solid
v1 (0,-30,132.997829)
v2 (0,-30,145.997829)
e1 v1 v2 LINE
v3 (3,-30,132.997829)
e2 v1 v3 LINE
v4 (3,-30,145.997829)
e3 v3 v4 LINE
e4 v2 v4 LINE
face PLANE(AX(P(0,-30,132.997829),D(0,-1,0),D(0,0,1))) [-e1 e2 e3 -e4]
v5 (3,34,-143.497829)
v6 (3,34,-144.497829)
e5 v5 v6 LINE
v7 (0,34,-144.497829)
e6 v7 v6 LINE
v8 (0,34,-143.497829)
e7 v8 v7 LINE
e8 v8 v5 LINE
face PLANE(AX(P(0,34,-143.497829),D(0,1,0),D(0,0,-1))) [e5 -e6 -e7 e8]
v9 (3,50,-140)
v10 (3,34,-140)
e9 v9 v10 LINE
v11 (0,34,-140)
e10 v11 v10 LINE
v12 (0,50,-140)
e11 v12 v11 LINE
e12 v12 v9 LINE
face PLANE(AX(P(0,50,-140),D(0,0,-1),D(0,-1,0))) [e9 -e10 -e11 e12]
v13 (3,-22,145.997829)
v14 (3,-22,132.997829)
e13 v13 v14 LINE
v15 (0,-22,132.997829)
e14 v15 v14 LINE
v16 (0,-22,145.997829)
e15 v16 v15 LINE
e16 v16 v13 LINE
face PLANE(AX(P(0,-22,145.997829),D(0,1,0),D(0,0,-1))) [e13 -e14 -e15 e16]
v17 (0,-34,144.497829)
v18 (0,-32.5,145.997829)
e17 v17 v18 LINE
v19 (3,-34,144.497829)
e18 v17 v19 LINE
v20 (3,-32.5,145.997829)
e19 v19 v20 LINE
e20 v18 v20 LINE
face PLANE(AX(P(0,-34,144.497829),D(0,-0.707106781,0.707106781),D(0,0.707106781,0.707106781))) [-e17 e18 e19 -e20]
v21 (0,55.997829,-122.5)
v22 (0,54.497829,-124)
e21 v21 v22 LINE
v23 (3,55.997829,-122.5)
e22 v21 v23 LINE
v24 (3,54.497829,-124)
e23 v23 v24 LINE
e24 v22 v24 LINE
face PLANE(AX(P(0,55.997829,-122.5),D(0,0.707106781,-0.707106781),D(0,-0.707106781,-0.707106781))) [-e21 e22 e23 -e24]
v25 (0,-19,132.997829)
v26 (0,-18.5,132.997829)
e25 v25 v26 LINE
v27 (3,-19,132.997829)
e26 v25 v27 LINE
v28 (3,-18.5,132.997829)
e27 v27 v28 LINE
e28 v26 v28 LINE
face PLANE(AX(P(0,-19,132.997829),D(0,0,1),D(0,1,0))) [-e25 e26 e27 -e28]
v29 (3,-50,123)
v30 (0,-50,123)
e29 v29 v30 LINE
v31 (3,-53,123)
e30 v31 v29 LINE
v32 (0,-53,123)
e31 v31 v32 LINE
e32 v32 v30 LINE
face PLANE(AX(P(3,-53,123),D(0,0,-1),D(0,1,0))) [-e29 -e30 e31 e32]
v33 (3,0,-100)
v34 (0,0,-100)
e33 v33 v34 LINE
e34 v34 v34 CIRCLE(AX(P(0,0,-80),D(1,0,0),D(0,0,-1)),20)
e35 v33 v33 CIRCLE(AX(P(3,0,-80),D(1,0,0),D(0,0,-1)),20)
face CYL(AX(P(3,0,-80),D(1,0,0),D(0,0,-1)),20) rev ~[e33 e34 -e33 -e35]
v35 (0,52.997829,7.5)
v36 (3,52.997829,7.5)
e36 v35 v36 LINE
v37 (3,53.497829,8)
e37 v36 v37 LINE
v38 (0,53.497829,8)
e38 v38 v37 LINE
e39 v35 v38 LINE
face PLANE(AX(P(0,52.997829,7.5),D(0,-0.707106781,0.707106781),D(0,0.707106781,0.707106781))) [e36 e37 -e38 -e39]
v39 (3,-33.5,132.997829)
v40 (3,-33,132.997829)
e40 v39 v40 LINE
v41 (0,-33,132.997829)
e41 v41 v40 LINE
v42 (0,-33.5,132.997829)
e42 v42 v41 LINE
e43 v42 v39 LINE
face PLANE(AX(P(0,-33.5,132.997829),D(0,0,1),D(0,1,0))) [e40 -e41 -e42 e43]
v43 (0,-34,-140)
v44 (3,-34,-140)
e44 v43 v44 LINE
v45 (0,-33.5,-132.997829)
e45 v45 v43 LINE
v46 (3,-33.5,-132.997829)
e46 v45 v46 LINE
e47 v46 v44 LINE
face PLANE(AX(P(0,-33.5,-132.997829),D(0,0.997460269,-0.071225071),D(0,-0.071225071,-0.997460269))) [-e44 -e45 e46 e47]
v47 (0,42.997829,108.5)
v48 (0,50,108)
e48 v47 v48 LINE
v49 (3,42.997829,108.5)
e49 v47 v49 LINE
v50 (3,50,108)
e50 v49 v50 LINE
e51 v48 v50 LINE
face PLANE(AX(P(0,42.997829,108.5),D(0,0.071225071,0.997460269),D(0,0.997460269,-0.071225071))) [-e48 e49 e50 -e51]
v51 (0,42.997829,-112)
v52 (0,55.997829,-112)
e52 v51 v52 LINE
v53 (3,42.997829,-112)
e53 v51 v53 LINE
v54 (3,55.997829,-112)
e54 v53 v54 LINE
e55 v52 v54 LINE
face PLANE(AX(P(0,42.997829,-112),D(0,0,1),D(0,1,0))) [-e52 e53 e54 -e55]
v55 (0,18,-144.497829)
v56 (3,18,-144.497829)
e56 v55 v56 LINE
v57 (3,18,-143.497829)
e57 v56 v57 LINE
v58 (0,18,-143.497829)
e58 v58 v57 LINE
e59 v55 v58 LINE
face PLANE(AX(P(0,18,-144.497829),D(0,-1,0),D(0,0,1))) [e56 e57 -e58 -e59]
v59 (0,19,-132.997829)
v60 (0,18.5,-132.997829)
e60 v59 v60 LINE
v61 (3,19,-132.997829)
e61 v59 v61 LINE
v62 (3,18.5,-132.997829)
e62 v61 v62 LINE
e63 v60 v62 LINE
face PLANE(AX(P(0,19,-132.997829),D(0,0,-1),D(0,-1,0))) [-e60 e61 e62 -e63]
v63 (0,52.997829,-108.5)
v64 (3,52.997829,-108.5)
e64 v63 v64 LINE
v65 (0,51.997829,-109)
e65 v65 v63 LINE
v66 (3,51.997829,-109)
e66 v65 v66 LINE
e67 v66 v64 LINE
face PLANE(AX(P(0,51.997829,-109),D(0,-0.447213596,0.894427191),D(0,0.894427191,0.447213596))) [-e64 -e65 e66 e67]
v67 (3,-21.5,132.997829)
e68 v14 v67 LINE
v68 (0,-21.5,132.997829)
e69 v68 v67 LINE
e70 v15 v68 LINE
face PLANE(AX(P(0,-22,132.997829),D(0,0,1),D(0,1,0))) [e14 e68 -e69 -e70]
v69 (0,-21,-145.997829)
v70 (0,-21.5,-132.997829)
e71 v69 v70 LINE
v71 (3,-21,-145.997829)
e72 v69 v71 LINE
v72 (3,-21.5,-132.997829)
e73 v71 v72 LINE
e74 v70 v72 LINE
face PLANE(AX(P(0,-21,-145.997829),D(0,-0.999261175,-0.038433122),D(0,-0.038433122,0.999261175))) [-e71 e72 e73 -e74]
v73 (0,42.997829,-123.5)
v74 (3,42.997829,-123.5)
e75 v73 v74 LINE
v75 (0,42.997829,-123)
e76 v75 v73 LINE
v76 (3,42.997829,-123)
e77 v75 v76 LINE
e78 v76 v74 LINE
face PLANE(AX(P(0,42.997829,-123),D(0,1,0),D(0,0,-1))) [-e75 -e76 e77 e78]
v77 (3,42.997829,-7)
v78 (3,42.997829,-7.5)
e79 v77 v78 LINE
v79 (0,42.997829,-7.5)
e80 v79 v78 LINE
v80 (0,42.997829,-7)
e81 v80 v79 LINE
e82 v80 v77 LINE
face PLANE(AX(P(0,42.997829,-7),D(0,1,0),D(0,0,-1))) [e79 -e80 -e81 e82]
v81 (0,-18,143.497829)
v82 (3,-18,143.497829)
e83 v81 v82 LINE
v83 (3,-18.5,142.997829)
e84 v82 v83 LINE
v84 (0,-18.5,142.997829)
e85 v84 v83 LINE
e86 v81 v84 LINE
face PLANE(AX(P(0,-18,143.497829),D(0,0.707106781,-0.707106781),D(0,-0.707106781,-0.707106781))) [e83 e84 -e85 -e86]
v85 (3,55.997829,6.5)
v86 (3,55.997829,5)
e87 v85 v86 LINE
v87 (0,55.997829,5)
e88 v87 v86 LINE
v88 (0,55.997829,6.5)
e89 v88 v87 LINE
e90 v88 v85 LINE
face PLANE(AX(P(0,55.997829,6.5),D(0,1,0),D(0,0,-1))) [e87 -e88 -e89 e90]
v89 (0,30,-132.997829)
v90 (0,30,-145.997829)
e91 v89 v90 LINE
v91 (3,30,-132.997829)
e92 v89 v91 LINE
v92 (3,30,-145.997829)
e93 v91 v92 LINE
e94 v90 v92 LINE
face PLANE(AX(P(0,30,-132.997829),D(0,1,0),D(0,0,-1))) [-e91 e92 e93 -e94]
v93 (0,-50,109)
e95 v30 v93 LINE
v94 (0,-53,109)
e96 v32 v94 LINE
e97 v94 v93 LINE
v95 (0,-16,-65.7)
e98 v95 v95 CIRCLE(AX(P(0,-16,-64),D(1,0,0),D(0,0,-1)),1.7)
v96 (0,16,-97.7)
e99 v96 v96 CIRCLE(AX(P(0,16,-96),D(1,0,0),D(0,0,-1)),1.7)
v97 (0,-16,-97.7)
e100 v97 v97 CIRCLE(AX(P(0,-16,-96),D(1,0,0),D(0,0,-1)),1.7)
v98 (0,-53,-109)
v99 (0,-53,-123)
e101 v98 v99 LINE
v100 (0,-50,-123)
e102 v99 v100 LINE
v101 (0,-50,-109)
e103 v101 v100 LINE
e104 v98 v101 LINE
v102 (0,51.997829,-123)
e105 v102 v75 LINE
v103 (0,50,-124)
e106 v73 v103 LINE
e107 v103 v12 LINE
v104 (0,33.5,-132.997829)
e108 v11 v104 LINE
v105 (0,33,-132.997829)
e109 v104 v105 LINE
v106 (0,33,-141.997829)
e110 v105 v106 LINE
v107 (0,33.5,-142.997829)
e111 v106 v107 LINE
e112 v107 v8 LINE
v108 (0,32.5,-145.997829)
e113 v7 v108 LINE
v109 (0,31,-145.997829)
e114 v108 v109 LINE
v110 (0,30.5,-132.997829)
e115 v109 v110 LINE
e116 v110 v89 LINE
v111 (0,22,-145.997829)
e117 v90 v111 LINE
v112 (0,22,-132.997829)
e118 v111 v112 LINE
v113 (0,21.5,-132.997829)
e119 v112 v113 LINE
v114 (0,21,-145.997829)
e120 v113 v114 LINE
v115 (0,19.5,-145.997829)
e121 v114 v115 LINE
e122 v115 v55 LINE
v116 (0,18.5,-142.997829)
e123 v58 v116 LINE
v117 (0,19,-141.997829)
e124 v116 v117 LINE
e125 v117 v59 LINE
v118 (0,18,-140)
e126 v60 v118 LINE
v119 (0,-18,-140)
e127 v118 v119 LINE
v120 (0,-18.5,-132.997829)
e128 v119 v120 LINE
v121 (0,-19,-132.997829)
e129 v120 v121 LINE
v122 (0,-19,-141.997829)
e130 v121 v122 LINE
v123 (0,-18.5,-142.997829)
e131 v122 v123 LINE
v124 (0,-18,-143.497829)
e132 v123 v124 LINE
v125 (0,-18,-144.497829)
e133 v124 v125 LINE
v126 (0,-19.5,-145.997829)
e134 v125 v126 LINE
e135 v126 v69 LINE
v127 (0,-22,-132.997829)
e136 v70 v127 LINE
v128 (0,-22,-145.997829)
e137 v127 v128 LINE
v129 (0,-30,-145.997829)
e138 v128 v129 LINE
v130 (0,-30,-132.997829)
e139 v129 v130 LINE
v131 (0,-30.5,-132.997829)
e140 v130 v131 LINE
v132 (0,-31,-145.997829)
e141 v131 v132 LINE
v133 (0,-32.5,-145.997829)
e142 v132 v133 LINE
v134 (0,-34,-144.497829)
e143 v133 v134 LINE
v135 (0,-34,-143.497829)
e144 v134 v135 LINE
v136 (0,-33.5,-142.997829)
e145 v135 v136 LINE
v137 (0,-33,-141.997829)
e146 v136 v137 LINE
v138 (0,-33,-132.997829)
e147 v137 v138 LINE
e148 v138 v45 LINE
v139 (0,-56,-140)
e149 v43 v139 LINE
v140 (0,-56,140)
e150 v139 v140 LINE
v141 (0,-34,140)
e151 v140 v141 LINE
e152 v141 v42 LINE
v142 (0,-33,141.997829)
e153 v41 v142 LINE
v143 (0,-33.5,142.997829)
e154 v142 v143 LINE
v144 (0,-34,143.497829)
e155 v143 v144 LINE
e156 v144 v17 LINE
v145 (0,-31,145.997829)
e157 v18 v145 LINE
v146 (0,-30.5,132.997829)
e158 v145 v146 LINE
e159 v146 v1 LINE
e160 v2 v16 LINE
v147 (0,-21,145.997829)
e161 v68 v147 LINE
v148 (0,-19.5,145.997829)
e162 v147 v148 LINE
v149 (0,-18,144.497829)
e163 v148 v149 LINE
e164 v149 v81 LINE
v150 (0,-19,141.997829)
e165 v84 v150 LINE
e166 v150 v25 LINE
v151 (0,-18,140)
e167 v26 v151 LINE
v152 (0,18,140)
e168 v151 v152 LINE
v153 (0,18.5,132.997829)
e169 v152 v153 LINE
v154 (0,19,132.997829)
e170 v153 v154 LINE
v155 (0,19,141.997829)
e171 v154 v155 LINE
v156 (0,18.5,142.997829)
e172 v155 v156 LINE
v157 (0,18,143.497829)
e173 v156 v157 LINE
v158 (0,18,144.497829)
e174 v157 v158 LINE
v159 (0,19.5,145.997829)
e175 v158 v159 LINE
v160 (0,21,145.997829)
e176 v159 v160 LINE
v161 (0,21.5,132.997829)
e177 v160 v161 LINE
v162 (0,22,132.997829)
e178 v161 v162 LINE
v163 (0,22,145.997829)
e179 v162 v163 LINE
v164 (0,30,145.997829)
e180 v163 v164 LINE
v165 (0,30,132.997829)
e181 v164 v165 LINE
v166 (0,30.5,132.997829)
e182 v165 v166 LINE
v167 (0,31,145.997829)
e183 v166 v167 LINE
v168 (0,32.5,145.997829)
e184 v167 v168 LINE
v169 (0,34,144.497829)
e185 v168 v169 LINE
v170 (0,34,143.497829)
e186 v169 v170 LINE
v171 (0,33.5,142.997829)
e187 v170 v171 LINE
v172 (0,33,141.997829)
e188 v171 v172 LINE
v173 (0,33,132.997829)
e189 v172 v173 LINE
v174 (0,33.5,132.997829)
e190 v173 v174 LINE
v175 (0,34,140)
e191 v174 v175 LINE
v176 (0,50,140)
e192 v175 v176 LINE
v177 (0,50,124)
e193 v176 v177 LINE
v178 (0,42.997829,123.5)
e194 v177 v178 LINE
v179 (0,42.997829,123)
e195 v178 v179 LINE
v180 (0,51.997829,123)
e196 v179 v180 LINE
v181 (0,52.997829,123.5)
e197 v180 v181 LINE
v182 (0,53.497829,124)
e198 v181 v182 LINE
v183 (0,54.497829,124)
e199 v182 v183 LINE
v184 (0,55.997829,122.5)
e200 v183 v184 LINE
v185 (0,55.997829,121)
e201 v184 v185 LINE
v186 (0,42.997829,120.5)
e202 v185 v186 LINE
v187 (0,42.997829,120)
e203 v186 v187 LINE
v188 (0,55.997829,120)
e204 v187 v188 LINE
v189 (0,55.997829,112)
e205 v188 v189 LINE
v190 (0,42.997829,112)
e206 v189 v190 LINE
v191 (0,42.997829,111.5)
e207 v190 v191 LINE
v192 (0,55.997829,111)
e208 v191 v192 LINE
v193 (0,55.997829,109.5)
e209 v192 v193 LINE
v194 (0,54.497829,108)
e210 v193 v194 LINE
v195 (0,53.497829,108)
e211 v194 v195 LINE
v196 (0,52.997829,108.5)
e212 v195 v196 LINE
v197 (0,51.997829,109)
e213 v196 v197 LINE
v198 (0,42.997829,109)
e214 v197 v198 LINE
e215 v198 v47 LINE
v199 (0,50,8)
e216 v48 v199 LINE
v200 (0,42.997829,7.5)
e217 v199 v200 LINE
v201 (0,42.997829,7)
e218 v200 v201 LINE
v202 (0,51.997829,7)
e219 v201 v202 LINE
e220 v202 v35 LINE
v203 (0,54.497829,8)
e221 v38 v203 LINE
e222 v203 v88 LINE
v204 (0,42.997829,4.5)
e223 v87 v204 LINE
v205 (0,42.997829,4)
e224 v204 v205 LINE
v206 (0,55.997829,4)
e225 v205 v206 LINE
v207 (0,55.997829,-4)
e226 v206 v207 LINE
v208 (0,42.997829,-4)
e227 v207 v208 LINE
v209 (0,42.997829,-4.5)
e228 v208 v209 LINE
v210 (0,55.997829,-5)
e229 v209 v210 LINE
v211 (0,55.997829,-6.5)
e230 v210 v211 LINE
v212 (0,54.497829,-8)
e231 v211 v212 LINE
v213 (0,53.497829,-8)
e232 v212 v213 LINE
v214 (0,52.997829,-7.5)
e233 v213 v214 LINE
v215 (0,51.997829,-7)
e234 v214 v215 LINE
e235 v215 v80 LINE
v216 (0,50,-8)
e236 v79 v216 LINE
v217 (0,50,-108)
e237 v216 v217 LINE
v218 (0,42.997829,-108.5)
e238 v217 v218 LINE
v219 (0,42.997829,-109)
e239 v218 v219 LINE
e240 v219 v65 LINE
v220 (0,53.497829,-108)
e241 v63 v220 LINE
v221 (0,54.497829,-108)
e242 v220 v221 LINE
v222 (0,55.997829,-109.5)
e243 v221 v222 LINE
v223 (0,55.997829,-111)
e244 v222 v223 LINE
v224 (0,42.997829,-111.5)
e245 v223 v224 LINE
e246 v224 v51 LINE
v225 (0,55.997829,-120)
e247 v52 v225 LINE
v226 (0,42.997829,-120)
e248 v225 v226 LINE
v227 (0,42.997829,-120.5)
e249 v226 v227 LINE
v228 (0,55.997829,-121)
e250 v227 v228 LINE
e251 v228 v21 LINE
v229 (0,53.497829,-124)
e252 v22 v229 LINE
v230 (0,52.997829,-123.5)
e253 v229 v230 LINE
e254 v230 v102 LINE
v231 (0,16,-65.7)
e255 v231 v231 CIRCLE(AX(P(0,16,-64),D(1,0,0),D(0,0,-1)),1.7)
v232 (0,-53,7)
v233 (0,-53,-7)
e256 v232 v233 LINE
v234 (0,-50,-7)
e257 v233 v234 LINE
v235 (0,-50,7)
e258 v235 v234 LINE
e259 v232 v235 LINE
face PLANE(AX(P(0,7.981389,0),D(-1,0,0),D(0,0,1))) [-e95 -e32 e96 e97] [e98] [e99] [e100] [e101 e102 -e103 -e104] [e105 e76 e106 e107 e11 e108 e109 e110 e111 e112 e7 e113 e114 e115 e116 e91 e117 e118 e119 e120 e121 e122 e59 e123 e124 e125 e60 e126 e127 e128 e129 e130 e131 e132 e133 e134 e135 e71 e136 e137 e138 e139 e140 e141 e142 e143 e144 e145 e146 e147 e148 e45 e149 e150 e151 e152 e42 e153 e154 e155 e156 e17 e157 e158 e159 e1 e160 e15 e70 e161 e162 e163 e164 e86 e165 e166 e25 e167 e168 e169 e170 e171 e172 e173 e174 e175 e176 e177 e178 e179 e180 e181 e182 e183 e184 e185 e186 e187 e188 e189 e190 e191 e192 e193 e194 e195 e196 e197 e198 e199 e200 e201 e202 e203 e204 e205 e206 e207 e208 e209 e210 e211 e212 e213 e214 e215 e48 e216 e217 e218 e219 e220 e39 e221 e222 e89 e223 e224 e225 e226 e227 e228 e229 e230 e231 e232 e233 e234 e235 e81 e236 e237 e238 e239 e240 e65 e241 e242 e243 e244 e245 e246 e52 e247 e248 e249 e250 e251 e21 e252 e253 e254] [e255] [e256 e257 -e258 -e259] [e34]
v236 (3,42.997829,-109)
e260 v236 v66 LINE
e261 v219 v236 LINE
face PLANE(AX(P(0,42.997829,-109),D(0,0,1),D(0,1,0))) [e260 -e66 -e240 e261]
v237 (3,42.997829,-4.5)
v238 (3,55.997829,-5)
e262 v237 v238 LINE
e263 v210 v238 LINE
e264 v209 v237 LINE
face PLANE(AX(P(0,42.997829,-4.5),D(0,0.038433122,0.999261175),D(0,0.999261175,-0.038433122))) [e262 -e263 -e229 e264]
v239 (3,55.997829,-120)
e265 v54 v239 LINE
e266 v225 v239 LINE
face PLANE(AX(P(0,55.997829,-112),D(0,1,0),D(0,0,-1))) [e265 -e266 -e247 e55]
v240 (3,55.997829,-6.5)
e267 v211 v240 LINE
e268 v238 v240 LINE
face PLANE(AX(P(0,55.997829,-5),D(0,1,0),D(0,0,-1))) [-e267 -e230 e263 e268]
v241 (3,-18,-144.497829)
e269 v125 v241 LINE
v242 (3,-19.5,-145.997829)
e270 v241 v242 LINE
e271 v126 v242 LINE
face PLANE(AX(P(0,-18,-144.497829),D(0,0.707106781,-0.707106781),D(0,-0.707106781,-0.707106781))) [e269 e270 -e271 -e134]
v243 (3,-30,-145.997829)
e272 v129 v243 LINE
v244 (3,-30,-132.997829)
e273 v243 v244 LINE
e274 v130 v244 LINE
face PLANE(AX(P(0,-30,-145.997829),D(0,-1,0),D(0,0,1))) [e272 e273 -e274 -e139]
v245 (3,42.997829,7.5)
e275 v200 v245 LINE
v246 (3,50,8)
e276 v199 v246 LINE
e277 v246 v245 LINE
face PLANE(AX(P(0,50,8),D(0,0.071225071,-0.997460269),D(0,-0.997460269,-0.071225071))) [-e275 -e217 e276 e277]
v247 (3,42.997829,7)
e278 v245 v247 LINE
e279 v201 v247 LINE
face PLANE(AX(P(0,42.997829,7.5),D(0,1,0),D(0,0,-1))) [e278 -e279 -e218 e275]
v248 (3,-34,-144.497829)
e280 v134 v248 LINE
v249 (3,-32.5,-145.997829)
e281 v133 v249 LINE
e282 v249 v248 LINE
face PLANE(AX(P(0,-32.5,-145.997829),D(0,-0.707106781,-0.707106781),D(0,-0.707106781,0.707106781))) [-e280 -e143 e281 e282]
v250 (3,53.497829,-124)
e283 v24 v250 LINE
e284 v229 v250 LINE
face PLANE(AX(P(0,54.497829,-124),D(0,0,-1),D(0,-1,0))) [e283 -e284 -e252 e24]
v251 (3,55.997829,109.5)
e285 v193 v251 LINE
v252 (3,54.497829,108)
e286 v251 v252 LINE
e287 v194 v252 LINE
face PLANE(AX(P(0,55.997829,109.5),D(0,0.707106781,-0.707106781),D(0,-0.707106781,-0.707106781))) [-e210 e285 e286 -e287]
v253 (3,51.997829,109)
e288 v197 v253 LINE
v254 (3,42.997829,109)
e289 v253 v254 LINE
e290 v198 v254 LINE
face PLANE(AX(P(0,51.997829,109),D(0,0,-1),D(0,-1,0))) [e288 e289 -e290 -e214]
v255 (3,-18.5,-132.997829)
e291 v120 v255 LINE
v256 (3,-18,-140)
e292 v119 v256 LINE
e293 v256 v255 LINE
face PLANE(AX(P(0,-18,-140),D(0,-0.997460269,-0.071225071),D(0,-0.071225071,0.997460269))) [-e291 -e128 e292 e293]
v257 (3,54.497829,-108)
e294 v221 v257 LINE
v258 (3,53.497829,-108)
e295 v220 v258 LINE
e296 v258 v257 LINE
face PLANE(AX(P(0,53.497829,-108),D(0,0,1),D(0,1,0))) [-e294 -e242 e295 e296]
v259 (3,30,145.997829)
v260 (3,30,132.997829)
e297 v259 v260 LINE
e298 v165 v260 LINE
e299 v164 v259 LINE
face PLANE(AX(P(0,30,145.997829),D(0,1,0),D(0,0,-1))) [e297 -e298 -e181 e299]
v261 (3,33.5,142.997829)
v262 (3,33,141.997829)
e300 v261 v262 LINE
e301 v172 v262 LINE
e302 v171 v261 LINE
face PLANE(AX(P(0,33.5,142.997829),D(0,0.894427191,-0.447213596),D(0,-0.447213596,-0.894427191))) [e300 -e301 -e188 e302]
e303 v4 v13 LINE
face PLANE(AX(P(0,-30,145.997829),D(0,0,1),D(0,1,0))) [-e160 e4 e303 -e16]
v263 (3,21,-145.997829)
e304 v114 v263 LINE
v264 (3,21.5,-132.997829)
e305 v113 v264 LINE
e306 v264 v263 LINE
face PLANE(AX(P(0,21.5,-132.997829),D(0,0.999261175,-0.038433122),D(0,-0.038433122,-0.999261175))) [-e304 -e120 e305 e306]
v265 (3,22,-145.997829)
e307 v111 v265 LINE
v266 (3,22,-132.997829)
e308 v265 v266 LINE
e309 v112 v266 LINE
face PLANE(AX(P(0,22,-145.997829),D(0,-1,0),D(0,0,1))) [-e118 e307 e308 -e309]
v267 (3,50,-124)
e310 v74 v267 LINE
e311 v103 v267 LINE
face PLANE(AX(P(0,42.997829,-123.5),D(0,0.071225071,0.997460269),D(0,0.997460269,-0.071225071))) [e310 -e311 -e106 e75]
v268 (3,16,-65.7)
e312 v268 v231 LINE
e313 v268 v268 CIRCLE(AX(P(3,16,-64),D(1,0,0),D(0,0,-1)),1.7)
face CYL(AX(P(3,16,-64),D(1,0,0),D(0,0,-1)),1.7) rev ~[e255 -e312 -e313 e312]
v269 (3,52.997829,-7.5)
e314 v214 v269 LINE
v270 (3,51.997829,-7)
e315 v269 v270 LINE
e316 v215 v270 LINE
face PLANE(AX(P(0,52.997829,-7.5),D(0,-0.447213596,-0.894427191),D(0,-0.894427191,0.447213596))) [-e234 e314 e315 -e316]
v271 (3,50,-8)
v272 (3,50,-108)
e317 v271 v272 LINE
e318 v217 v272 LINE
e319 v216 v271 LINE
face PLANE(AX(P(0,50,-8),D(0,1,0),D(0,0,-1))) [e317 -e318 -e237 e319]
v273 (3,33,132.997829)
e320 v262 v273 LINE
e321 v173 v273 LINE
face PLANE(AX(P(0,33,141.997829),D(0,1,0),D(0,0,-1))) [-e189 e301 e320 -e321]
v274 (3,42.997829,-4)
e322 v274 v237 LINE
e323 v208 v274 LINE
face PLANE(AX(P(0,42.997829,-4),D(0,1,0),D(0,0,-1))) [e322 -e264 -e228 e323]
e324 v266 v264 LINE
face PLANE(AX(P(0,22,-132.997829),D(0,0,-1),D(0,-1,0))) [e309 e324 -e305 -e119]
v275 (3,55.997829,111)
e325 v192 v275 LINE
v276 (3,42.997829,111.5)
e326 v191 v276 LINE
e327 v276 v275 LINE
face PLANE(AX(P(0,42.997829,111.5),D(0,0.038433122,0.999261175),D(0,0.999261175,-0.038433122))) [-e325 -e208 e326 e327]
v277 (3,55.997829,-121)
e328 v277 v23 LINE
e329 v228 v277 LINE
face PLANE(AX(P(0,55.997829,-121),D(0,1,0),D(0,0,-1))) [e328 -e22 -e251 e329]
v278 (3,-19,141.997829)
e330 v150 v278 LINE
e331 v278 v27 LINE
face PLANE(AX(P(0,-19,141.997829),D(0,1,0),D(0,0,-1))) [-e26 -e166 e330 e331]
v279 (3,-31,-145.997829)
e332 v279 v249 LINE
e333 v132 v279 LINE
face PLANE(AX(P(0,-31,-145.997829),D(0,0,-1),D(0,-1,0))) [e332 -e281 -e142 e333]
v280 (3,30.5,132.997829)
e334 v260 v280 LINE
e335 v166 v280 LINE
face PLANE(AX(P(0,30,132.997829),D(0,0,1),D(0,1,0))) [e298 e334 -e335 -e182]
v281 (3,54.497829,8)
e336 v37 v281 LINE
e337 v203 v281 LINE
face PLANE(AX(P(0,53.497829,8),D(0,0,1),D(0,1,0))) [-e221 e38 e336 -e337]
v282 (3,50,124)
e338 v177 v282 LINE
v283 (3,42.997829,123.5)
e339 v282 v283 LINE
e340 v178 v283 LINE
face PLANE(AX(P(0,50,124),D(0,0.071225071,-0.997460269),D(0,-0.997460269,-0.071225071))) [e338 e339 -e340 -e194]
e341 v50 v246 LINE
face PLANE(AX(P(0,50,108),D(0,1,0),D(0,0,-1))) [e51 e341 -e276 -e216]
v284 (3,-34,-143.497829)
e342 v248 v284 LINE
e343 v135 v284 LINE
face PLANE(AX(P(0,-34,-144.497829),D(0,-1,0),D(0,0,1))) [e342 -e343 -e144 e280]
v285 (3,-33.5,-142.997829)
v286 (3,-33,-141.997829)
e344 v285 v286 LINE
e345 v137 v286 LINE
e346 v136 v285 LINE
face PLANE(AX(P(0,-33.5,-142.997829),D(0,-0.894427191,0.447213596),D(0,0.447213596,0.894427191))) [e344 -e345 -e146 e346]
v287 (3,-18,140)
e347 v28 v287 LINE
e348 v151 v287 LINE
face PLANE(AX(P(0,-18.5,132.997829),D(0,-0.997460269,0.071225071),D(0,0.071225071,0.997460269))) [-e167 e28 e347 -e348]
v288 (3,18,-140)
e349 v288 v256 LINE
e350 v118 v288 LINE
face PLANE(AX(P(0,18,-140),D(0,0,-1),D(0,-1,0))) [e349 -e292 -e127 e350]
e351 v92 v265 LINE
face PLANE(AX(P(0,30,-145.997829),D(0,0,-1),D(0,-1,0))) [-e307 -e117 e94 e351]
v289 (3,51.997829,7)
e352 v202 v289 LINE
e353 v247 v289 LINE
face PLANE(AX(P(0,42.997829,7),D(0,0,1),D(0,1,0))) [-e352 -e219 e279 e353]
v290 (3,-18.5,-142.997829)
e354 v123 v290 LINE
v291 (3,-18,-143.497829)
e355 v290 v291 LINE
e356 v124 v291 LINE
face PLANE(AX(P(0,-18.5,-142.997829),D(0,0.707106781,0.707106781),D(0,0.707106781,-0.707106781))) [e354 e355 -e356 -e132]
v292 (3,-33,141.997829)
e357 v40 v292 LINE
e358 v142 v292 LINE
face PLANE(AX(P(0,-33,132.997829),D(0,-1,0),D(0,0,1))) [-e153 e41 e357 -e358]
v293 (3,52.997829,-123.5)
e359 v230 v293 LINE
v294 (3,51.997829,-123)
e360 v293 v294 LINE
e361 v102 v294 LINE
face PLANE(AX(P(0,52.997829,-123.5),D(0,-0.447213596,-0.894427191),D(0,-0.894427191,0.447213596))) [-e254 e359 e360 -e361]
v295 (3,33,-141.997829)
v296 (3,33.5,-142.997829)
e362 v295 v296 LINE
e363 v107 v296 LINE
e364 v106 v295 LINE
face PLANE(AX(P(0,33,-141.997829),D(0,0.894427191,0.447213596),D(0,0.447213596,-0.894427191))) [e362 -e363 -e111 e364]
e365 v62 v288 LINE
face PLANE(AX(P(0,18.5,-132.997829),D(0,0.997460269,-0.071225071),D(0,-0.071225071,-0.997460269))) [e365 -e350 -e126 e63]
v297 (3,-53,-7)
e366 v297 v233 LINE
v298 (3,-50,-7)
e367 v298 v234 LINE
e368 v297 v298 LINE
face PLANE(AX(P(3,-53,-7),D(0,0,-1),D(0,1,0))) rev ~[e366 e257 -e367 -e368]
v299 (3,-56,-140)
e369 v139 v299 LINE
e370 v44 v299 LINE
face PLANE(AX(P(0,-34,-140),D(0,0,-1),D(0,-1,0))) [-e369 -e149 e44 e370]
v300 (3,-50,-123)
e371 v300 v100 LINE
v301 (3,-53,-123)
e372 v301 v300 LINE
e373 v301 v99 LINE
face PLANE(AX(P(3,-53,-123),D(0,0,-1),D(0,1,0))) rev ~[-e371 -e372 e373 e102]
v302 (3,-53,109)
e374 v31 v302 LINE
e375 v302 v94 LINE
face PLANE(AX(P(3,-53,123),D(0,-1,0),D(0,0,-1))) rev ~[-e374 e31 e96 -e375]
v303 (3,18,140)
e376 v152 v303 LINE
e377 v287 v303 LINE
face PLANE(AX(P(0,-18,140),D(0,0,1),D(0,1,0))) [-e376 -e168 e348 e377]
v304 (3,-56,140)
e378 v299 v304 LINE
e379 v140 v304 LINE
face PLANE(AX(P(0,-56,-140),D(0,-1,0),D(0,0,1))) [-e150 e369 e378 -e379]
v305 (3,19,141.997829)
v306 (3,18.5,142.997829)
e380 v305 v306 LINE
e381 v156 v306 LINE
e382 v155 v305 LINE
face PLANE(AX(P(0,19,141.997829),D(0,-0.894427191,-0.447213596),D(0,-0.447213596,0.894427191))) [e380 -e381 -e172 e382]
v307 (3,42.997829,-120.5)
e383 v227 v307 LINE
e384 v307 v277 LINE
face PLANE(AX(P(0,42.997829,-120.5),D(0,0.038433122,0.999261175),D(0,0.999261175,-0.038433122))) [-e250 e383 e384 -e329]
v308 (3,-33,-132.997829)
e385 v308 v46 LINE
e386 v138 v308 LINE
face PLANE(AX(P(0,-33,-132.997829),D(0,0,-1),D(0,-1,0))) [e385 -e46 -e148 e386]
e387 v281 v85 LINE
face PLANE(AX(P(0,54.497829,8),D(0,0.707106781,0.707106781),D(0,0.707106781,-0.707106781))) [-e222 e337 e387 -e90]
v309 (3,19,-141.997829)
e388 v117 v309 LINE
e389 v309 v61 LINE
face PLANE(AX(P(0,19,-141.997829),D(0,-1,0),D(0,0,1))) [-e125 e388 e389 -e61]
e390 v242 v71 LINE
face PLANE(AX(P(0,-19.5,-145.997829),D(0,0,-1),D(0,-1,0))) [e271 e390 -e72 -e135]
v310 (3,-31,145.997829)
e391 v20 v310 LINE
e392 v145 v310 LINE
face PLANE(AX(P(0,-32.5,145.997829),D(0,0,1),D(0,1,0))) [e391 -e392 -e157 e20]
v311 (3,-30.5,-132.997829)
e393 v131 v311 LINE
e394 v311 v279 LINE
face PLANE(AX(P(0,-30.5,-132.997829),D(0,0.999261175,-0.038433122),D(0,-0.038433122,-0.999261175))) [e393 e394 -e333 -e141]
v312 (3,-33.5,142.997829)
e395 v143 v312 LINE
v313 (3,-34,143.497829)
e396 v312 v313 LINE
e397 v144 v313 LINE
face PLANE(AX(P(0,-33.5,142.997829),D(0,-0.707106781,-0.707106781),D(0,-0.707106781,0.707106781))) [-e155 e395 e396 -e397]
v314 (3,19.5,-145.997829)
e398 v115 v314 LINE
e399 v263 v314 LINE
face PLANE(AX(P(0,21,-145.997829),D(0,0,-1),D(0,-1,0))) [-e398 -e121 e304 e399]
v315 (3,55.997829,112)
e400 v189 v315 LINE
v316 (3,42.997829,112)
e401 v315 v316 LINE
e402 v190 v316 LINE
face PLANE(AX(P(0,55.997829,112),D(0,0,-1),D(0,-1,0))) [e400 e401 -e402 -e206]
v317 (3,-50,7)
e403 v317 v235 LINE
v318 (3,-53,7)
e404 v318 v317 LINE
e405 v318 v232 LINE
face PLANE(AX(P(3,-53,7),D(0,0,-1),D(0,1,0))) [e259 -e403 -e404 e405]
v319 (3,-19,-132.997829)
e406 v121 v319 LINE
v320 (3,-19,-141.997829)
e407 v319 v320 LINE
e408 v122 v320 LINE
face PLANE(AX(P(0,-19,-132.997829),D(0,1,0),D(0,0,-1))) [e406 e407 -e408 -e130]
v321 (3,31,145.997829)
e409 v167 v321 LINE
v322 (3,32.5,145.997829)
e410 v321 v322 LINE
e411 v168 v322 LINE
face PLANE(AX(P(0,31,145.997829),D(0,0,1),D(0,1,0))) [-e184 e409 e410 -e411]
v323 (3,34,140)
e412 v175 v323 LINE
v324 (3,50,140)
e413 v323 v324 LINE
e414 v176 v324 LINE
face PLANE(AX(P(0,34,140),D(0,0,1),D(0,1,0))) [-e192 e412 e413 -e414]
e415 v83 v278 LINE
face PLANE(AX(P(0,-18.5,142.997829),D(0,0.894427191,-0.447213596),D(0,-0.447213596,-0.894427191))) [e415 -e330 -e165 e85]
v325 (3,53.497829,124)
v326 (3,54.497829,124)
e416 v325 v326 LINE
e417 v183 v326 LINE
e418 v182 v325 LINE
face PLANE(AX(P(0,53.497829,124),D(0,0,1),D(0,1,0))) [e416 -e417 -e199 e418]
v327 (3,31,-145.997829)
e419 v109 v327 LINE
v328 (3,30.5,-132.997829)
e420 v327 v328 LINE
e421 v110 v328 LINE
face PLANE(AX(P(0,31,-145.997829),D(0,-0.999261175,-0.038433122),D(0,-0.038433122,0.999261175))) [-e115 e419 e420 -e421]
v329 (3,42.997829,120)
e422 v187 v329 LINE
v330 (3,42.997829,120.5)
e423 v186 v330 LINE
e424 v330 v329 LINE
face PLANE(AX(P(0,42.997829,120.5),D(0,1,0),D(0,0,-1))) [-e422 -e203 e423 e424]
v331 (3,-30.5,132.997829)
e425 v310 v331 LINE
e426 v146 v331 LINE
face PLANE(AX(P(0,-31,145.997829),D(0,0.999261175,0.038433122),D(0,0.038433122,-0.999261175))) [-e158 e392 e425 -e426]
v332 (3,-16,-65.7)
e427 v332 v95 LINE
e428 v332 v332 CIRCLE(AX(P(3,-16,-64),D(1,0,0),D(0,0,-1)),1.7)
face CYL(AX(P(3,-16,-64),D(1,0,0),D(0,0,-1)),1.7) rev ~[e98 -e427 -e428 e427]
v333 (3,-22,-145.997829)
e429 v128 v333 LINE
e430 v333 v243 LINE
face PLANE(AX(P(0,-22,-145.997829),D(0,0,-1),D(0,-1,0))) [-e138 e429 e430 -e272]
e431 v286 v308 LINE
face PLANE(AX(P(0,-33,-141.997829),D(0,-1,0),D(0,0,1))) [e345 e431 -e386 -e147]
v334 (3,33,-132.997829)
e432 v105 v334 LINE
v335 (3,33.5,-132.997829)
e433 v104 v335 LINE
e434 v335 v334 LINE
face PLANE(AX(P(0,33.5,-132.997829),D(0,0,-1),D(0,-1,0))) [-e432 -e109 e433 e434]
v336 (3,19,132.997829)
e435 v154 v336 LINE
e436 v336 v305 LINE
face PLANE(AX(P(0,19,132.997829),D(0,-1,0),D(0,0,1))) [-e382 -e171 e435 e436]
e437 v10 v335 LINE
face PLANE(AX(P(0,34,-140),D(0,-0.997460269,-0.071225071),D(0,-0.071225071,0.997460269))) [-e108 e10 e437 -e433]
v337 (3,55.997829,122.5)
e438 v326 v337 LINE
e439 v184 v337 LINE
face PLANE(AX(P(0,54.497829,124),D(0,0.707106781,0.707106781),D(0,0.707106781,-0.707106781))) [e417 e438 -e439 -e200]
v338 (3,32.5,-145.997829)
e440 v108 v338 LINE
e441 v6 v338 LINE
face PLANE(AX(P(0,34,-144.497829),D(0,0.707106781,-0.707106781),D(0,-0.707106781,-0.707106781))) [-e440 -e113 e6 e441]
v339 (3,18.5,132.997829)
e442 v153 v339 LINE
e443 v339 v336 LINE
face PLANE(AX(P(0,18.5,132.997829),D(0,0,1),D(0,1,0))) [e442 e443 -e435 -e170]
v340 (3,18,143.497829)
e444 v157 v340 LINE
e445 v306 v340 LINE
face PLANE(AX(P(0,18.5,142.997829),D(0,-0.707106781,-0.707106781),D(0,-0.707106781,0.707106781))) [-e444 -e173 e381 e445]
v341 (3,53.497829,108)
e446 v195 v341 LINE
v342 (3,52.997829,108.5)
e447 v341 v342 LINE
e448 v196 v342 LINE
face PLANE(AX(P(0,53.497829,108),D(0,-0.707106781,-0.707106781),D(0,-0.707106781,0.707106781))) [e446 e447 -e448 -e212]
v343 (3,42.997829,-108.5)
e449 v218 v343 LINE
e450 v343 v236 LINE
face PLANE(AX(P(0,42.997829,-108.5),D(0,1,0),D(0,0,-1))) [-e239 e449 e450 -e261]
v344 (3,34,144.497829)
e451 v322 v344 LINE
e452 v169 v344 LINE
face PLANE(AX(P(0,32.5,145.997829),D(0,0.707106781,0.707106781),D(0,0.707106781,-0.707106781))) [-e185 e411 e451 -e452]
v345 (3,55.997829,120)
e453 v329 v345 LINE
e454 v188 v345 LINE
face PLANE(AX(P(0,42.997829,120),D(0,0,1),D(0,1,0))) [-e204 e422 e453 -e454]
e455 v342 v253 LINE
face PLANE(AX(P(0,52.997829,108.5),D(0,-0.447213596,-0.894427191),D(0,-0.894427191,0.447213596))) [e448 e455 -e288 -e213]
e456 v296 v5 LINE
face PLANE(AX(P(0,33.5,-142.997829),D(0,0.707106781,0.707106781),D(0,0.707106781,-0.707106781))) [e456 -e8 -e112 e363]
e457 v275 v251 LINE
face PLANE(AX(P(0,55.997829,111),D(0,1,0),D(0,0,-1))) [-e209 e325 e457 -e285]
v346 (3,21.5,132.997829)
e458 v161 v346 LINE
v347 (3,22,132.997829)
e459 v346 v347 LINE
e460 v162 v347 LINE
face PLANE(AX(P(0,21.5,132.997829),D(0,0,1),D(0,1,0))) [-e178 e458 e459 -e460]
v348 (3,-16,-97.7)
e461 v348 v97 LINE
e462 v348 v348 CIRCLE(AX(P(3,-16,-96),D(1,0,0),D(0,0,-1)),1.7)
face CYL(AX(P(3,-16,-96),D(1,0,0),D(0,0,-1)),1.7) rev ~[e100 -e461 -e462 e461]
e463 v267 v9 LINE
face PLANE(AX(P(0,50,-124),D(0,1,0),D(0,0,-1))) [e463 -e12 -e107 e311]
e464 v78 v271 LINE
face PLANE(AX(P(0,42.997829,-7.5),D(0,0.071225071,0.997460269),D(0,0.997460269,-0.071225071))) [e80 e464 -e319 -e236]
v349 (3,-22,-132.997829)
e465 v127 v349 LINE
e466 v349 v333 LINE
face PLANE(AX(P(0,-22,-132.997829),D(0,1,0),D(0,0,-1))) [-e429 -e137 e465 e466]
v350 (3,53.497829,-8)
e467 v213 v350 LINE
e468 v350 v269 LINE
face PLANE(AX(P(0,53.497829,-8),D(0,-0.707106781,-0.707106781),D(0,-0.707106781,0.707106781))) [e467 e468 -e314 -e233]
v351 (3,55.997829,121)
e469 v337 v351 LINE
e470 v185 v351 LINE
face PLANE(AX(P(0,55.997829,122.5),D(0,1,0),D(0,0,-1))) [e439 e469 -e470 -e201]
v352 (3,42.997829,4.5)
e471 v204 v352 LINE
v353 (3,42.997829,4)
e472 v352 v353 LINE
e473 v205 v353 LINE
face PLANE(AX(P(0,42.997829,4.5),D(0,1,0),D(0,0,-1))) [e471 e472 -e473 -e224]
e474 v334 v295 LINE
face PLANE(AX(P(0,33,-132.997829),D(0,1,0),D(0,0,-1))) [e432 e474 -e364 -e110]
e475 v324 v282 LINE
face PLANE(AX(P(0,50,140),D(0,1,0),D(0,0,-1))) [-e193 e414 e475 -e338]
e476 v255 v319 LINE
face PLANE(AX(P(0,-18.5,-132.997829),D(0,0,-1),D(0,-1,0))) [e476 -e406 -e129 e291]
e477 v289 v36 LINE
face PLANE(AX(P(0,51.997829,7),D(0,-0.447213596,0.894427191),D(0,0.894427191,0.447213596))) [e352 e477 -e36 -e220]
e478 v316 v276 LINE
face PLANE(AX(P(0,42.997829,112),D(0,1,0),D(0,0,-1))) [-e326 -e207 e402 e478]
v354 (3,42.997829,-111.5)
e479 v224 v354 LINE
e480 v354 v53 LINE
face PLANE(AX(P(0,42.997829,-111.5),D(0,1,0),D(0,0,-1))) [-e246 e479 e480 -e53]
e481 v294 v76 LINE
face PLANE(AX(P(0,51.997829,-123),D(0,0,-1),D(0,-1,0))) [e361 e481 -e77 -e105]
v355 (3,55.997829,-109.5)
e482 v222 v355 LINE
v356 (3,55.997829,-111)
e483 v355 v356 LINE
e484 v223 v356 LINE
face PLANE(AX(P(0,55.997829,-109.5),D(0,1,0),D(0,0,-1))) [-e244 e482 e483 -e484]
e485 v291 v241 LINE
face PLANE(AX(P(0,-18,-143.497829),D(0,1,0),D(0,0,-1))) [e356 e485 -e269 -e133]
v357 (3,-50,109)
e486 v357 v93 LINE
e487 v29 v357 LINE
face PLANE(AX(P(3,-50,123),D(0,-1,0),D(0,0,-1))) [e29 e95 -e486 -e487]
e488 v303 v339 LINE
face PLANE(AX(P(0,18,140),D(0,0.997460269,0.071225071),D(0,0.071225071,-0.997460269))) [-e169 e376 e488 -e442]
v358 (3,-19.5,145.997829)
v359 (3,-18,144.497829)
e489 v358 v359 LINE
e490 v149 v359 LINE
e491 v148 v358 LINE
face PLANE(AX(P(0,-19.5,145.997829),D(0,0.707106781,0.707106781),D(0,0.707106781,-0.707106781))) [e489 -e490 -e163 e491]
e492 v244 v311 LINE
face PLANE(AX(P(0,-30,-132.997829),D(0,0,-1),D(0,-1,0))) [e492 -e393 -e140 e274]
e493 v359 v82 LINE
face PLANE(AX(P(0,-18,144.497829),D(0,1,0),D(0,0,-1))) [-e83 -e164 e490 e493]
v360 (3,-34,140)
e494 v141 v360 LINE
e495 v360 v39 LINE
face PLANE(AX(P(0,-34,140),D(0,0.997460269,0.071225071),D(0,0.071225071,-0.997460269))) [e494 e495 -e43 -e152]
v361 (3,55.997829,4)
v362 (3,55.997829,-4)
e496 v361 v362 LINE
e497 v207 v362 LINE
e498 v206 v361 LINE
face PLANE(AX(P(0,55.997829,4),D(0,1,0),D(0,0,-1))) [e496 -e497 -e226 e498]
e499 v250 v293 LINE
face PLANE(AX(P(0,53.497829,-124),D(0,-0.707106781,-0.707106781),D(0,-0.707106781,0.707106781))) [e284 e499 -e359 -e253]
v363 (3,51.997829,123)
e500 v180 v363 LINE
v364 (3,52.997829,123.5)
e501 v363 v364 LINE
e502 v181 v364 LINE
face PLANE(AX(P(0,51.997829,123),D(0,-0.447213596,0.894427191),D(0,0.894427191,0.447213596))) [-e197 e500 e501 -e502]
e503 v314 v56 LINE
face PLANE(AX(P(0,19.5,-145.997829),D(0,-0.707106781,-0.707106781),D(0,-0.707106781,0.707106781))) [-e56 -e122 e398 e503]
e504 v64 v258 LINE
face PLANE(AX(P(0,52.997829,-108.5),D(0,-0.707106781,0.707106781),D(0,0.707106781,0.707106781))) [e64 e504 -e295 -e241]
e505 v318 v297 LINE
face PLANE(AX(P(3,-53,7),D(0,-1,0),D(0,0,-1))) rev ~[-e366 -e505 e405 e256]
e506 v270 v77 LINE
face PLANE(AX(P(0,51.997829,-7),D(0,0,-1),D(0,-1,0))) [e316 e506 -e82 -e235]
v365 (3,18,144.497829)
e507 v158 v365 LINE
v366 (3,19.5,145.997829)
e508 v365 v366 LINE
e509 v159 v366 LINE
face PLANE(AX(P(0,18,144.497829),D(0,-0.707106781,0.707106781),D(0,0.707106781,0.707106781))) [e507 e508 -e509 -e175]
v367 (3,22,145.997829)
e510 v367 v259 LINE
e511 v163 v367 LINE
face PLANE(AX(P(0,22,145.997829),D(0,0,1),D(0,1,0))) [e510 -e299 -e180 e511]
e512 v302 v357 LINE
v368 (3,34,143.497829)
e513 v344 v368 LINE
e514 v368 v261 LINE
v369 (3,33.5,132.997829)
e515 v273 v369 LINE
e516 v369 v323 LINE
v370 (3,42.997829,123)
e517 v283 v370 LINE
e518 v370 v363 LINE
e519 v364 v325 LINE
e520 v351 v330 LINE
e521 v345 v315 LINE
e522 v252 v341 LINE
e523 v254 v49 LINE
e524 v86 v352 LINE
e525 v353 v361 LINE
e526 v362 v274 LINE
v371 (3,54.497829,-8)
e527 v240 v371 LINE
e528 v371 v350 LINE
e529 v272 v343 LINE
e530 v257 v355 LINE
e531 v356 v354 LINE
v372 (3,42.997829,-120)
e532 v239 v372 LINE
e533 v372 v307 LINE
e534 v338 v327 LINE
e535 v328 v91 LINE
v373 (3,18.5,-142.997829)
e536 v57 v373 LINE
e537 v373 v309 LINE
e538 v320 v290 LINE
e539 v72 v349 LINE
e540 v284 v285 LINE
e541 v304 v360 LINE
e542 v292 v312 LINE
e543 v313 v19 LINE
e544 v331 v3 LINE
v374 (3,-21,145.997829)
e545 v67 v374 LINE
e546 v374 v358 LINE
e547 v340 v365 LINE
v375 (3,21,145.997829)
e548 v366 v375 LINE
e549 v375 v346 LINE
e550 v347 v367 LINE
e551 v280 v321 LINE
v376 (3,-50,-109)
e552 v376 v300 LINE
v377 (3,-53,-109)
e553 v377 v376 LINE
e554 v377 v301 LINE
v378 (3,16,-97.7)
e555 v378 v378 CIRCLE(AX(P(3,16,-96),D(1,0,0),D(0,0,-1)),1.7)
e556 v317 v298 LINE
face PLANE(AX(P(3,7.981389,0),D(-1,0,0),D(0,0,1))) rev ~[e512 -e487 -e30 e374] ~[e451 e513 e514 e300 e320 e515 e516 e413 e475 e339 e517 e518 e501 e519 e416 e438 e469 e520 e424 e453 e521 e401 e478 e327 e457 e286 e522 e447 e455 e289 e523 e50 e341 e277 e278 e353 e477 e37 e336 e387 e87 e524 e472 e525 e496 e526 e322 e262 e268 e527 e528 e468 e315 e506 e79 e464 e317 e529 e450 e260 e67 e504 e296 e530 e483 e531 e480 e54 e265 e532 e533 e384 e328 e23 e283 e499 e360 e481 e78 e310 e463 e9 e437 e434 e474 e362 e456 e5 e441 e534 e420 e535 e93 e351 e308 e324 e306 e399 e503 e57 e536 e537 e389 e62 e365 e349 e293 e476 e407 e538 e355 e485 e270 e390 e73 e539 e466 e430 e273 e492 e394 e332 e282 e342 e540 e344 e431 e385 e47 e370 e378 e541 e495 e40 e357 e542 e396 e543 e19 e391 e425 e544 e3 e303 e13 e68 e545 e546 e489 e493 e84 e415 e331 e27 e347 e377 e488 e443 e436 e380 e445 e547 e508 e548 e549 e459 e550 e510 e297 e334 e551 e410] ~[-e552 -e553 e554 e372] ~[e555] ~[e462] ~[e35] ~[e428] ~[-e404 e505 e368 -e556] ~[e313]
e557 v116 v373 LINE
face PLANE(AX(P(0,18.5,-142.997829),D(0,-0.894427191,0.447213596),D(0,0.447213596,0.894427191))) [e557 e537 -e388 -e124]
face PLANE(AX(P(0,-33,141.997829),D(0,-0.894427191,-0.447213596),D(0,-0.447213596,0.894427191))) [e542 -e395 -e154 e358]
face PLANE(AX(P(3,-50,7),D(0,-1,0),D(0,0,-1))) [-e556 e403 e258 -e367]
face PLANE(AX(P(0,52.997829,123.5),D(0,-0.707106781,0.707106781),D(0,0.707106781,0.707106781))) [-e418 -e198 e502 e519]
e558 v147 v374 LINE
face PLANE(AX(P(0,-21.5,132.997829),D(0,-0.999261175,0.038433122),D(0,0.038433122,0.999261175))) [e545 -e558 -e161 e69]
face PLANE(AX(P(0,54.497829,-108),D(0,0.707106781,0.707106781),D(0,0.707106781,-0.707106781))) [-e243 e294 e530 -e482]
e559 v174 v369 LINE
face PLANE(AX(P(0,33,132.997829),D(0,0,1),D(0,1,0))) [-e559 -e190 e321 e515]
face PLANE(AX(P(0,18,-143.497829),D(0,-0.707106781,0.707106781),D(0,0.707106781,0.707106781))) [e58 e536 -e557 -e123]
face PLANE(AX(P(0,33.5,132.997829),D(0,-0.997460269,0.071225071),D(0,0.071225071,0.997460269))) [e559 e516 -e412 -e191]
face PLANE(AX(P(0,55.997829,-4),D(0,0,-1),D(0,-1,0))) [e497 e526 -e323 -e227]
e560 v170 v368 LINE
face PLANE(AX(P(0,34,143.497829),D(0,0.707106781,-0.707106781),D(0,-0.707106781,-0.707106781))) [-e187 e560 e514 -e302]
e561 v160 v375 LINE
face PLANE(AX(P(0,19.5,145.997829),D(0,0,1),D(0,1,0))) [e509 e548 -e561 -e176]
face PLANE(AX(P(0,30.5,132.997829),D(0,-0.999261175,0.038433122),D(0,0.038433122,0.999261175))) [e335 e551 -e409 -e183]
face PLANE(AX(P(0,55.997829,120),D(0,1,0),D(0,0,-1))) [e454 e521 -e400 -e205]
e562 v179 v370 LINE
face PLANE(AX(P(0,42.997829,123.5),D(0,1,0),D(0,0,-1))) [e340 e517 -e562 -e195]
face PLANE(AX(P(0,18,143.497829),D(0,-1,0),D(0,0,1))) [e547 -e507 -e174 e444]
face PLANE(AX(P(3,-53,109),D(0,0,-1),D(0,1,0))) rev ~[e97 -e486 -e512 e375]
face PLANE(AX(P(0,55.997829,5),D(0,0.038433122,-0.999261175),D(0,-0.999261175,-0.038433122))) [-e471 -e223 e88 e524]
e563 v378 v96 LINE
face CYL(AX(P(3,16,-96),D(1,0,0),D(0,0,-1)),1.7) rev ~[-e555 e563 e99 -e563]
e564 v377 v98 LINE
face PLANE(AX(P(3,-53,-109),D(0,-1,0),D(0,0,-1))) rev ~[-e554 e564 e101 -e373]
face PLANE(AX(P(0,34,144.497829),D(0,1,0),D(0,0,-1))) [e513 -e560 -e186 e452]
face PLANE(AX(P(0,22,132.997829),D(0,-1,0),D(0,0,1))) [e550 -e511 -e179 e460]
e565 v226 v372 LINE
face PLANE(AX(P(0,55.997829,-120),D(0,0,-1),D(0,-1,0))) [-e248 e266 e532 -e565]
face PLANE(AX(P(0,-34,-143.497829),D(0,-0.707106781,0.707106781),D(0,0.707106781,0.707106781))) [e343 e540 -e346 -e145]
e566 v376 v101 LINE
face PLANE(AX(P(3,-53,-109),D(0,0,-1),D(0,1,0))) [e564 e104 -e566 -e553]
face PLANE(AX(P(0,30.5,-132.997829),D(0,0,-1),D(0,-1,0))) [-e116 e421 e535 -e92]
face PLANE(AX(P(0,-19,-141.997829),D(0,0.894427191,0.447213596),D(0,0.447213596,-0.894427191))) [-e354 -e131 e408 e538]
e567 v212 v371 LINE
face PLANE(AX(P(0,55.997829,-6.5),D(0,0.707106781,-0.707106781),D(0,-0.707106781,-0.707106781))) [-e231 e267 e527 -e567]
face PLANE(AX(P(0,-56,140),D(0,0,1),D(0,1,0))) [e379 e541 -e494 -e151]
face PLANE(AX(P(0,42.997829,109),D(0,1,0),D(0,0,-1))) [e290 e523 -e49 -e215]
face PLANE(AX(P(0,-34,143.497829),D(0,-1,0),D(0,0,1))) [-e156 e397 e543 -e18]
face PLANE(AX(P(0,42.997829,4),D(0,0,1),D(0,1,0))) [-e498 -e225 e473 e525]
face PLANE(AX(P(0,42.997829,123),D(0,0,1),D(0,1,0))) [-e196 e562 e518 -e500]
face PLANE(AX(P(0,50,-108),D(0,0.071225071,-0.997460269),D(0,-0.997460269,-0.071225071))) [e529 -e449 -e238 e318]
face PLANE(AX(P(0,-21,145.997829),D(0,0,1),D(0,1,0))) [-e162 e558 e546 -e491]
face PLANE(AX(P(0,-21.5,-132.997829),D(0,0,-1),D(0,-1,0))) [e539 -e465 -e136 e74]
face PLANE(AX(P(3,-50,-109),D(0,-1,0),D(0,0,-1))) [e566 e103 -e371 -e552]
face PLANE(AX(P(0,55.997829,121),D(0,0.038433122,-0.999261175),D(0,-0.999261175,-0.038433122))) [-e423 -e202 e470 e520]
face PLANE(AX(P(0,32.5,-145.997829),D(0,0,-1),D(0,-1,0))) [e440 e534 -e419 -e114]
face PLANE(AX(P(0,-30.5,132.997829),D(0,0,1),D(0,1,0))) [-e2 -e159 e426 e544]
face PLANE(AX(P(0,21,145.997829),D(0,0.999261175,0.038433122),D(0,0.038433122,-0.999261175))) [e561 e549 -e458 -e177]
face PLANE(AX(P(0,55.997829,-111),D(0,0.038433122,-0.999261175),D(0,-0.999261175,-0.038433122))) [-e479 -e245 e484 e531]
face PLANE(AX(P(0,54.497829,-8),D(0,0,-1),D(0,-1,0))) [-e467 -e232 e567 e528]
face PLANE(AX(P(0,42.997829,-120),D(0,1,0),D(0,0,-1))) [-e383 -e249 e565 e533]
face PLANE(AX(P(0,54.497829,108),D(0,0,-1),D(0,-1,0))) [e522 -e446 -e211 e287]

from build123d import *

# Parameters (mm, degrees)
BOSS_EXTRUDE1_DEPTH = 3
SKETCH3_W           = 14
SKETCH3_H           = 3
CUT_EXTRUDE1_DEPTH  = 3
SKETCH7_R           = 20
CUT_EXTRUDE2_DEPTH  = 3
SKETCH9_R           = 1.7
CUT_EXTRUDE3_DEPTH  = 3


with BuildPart() as part:
    # Sketch1 → Boss-Extrude1 (new body)
    with BuildSketch(Plane(origin=(0, 0, 0), x_dir=(0, 0, -1), z_dir=(1, 0, 0))):
        Polygon((-140, 34), (-140, 50), (-124, 50), (-123.5, 42.997828908), (-123, 42.997828908), (-123, 51.997828908), (-123.5, 52.997828908), (-124, 53.497828908), (-124, 54.497828908), (-122.5, 55.997828908), (-121, 55.997828908), (-120.5, 42.997828908), (-120, 42.997828908), (-120, 55.997828908), (-112, 55.997828908), (-112, 42.997828908), (-111.5, 42.997828908), (-111, 55.997828908), (-109.5, 55.997828908), (-108, 54.497828908), (-108, 53.497828908), (-108.5, 52.997828908), (-109, 51.997828908), (-109, 42.997828908), (-108.5, 42.997828908), (-108, 50), (-8, 50), (-7.5, 42.997828908), (-7, 42.997828908), (-7, 51.997828908), (-7.5, 52.997828908), (-8, 53.497828908), (-8, 54.497828908), (-6.5, 55.997828908), (-5, 55.997828908), (-4.5, 42.997828908), (-4, 42.997828908), (-4, 55.997828908), (4, 55.997828908), (4, 42.997828908), (4.5, 42.997828908), (5, 55.997828908), (6.5, 55.997828908), (8, 54.497828908), (8, 53.497828908), (7.5, 52.997828908), (7, 51.997828908), (7, 42.997828908), (7.5, 42.997828908), (8, 50), (108, 50), (108.5, 42.997828908), (109, 42.997828908), (109, 51.997828908), (108.5, 52.997828908), (108, 53.497828908), (108, 54.497828908), (109.5, 55.997828908), (111, 55.997828908), (111.5, 42.997828908), (112, 42.997828908), (112, 55.997828908), (120, 55.997828908), (120, 42.997828908), (120.5, 42.997828908), (121, 55.997828908), (122.5, 55.997828908), (124, 54.497828908), (124, 53.497828908), (123.5, 52.997828908), (123, 51.997828908), (123, 42.997828908), (123.5, 42.997828908), (124, 50), (140, 50), (140, 34), (132.997828908, 33.5), (132.997828908, 33), (141.997828908, 33), (142.997828908, 33.5), (143.497828908, 34), (144.497828908, 34), (145.997828908, 32.5), (145.997828908, 31), (132.997828908, 30.5), (132.997828908, 30), (145.997828908, 30), (145.997828908, 22), (132.997828908, 22), (132.997828908, 21.5), (145.997828908, 21), (145.997828908, 19.5), (144.497828908, 18), (143.497828908, 18), (142.997828908, 18.5), (141.997828908, 19), (132.997828908, 19), (132.997828908, 18.5), (140, 18), (140, -18), (132.997828908, -18.5), (132.997828908, -19), (141.997828908, -19), (142.997828908, -18.5), (143.497828908, -18), (144.497828908, -18), (145.997828908, -19.5), (145.997828908, -21), (132.997828908, -21.5), (132.997828908, -22), (145.997828908, -22), (145.997828908, -30), (132.997828908, -30), (132.997828908, -30.5), (145.997828908, -31), (145.997828908, -32.5), (144.497828908, -34), (143.497828908, -34), (142.997828908, -33.5), (141.997828908, -33), (132.997828908, -33), (132.997828908, -33.5), (140, -34), (140, -56), (-140, -56), (-140, -34), (-132.997828908, -33.5), (-132.997828908, -33), (-141.997828908, -33), (-142.997828908, -33.5), (-143.497828908, -34), (-144.497828908, -34), (-145.997828908, -32.5), (-145.997828908, -31), (-132.997828908, -30.5), (-132.997828908, -30), (-145.997828908, -30), (-145.997828908, -22), (-132.997828908, -22), (-132.997828908, -21.5), (-145.997828908, -21), (-145.997828908, -19.5), (-144.497828908, -18), (-143.497828908, -18), (-142.997828908, -18.5), (-141.997828908, -19), (-132.997828908, -19), (-132.997828908, -18.5), (-140, -18), (-140, 18), (-132.997828908, 18.5), (-132.997828908, 19), (-141.997828908, 19), (-142.997828908, 18.5), (-143.497828908, 18), (-144.497828908, 18), (-145.997828908, 19.5), (-145.997828908, 21), (-132.997828908, 21.5), (-132.997828908, 22), (-145.997828908, 22), (-145.997828908, 30), (-132.997828908, 30), (-132.997828908, 30.5), (-145.997828908, 31), (-145.997828908, 32.5), (-144.497828908, 34), (-143.497828908, 34), (-142.997828908, 33.5), (-141.997828908, 33), (-132.997828908, 33), (-132.997828908, 33.5), align=None)
    extrude(amount=BOSS_EXTRUDE1_DEPTH)

    # Sketch3 → Cut-Extrude1 (cut)
    with BuildSketch(Plane(origin=(3, 0, 0), x_dir=(0, 0, -1), z_dir=(1, 0, 0))):
        with Locations((-116, -51.5)):
            Rectangle(SKETCH3_W, SKETCH3_H)
        with Locations((0, -51.5)):
            Rectangle(SKETCH3_W, SKETCH3_H)
        with Locations((116, -51.5)):
            Rectangle(SKETCH3_W, SKETCH3_H)
    extrude(amount=-CUT_EXTRUDE1_DEPTH, mode=Mode.SUBTRACT)

    # Sketch7 → Cut-Extrude2 (cut)
    with BuildSketch(Plane(origin=(3, 0, 0), x_dir=(0, 0, -1), z_dir=(1, 0, 0))):
        with Locations((80, 0)):
            Circle(SKETCH7_R)
    extrude(amount=-CUT_EXTRUDE2_DEPTH, mode=Mode.SUBTRACT)

    # Sketch9 → Cut-Extrude3 (cut)
    with BuildSketch(Plane(origin=(3, 0, 0), x_dir=(0, 0, -1), z_dir=(1, 0, 0))):
        with Locations((64, 16)):
            Circle(SKETCH9_R)
        with Locations((96, 16)):
            Circle(SKETCH9_R)
        with Locations((96, -16)):
            Circle(SKETCH9_R)
        with Locations((64, -16)):
            Circle(SKETCH9_R)
    extrude(amount=-CUT_EXTRUDE3_DEPTH, mode=Mode.SUBTRACT)


solid = part.part
